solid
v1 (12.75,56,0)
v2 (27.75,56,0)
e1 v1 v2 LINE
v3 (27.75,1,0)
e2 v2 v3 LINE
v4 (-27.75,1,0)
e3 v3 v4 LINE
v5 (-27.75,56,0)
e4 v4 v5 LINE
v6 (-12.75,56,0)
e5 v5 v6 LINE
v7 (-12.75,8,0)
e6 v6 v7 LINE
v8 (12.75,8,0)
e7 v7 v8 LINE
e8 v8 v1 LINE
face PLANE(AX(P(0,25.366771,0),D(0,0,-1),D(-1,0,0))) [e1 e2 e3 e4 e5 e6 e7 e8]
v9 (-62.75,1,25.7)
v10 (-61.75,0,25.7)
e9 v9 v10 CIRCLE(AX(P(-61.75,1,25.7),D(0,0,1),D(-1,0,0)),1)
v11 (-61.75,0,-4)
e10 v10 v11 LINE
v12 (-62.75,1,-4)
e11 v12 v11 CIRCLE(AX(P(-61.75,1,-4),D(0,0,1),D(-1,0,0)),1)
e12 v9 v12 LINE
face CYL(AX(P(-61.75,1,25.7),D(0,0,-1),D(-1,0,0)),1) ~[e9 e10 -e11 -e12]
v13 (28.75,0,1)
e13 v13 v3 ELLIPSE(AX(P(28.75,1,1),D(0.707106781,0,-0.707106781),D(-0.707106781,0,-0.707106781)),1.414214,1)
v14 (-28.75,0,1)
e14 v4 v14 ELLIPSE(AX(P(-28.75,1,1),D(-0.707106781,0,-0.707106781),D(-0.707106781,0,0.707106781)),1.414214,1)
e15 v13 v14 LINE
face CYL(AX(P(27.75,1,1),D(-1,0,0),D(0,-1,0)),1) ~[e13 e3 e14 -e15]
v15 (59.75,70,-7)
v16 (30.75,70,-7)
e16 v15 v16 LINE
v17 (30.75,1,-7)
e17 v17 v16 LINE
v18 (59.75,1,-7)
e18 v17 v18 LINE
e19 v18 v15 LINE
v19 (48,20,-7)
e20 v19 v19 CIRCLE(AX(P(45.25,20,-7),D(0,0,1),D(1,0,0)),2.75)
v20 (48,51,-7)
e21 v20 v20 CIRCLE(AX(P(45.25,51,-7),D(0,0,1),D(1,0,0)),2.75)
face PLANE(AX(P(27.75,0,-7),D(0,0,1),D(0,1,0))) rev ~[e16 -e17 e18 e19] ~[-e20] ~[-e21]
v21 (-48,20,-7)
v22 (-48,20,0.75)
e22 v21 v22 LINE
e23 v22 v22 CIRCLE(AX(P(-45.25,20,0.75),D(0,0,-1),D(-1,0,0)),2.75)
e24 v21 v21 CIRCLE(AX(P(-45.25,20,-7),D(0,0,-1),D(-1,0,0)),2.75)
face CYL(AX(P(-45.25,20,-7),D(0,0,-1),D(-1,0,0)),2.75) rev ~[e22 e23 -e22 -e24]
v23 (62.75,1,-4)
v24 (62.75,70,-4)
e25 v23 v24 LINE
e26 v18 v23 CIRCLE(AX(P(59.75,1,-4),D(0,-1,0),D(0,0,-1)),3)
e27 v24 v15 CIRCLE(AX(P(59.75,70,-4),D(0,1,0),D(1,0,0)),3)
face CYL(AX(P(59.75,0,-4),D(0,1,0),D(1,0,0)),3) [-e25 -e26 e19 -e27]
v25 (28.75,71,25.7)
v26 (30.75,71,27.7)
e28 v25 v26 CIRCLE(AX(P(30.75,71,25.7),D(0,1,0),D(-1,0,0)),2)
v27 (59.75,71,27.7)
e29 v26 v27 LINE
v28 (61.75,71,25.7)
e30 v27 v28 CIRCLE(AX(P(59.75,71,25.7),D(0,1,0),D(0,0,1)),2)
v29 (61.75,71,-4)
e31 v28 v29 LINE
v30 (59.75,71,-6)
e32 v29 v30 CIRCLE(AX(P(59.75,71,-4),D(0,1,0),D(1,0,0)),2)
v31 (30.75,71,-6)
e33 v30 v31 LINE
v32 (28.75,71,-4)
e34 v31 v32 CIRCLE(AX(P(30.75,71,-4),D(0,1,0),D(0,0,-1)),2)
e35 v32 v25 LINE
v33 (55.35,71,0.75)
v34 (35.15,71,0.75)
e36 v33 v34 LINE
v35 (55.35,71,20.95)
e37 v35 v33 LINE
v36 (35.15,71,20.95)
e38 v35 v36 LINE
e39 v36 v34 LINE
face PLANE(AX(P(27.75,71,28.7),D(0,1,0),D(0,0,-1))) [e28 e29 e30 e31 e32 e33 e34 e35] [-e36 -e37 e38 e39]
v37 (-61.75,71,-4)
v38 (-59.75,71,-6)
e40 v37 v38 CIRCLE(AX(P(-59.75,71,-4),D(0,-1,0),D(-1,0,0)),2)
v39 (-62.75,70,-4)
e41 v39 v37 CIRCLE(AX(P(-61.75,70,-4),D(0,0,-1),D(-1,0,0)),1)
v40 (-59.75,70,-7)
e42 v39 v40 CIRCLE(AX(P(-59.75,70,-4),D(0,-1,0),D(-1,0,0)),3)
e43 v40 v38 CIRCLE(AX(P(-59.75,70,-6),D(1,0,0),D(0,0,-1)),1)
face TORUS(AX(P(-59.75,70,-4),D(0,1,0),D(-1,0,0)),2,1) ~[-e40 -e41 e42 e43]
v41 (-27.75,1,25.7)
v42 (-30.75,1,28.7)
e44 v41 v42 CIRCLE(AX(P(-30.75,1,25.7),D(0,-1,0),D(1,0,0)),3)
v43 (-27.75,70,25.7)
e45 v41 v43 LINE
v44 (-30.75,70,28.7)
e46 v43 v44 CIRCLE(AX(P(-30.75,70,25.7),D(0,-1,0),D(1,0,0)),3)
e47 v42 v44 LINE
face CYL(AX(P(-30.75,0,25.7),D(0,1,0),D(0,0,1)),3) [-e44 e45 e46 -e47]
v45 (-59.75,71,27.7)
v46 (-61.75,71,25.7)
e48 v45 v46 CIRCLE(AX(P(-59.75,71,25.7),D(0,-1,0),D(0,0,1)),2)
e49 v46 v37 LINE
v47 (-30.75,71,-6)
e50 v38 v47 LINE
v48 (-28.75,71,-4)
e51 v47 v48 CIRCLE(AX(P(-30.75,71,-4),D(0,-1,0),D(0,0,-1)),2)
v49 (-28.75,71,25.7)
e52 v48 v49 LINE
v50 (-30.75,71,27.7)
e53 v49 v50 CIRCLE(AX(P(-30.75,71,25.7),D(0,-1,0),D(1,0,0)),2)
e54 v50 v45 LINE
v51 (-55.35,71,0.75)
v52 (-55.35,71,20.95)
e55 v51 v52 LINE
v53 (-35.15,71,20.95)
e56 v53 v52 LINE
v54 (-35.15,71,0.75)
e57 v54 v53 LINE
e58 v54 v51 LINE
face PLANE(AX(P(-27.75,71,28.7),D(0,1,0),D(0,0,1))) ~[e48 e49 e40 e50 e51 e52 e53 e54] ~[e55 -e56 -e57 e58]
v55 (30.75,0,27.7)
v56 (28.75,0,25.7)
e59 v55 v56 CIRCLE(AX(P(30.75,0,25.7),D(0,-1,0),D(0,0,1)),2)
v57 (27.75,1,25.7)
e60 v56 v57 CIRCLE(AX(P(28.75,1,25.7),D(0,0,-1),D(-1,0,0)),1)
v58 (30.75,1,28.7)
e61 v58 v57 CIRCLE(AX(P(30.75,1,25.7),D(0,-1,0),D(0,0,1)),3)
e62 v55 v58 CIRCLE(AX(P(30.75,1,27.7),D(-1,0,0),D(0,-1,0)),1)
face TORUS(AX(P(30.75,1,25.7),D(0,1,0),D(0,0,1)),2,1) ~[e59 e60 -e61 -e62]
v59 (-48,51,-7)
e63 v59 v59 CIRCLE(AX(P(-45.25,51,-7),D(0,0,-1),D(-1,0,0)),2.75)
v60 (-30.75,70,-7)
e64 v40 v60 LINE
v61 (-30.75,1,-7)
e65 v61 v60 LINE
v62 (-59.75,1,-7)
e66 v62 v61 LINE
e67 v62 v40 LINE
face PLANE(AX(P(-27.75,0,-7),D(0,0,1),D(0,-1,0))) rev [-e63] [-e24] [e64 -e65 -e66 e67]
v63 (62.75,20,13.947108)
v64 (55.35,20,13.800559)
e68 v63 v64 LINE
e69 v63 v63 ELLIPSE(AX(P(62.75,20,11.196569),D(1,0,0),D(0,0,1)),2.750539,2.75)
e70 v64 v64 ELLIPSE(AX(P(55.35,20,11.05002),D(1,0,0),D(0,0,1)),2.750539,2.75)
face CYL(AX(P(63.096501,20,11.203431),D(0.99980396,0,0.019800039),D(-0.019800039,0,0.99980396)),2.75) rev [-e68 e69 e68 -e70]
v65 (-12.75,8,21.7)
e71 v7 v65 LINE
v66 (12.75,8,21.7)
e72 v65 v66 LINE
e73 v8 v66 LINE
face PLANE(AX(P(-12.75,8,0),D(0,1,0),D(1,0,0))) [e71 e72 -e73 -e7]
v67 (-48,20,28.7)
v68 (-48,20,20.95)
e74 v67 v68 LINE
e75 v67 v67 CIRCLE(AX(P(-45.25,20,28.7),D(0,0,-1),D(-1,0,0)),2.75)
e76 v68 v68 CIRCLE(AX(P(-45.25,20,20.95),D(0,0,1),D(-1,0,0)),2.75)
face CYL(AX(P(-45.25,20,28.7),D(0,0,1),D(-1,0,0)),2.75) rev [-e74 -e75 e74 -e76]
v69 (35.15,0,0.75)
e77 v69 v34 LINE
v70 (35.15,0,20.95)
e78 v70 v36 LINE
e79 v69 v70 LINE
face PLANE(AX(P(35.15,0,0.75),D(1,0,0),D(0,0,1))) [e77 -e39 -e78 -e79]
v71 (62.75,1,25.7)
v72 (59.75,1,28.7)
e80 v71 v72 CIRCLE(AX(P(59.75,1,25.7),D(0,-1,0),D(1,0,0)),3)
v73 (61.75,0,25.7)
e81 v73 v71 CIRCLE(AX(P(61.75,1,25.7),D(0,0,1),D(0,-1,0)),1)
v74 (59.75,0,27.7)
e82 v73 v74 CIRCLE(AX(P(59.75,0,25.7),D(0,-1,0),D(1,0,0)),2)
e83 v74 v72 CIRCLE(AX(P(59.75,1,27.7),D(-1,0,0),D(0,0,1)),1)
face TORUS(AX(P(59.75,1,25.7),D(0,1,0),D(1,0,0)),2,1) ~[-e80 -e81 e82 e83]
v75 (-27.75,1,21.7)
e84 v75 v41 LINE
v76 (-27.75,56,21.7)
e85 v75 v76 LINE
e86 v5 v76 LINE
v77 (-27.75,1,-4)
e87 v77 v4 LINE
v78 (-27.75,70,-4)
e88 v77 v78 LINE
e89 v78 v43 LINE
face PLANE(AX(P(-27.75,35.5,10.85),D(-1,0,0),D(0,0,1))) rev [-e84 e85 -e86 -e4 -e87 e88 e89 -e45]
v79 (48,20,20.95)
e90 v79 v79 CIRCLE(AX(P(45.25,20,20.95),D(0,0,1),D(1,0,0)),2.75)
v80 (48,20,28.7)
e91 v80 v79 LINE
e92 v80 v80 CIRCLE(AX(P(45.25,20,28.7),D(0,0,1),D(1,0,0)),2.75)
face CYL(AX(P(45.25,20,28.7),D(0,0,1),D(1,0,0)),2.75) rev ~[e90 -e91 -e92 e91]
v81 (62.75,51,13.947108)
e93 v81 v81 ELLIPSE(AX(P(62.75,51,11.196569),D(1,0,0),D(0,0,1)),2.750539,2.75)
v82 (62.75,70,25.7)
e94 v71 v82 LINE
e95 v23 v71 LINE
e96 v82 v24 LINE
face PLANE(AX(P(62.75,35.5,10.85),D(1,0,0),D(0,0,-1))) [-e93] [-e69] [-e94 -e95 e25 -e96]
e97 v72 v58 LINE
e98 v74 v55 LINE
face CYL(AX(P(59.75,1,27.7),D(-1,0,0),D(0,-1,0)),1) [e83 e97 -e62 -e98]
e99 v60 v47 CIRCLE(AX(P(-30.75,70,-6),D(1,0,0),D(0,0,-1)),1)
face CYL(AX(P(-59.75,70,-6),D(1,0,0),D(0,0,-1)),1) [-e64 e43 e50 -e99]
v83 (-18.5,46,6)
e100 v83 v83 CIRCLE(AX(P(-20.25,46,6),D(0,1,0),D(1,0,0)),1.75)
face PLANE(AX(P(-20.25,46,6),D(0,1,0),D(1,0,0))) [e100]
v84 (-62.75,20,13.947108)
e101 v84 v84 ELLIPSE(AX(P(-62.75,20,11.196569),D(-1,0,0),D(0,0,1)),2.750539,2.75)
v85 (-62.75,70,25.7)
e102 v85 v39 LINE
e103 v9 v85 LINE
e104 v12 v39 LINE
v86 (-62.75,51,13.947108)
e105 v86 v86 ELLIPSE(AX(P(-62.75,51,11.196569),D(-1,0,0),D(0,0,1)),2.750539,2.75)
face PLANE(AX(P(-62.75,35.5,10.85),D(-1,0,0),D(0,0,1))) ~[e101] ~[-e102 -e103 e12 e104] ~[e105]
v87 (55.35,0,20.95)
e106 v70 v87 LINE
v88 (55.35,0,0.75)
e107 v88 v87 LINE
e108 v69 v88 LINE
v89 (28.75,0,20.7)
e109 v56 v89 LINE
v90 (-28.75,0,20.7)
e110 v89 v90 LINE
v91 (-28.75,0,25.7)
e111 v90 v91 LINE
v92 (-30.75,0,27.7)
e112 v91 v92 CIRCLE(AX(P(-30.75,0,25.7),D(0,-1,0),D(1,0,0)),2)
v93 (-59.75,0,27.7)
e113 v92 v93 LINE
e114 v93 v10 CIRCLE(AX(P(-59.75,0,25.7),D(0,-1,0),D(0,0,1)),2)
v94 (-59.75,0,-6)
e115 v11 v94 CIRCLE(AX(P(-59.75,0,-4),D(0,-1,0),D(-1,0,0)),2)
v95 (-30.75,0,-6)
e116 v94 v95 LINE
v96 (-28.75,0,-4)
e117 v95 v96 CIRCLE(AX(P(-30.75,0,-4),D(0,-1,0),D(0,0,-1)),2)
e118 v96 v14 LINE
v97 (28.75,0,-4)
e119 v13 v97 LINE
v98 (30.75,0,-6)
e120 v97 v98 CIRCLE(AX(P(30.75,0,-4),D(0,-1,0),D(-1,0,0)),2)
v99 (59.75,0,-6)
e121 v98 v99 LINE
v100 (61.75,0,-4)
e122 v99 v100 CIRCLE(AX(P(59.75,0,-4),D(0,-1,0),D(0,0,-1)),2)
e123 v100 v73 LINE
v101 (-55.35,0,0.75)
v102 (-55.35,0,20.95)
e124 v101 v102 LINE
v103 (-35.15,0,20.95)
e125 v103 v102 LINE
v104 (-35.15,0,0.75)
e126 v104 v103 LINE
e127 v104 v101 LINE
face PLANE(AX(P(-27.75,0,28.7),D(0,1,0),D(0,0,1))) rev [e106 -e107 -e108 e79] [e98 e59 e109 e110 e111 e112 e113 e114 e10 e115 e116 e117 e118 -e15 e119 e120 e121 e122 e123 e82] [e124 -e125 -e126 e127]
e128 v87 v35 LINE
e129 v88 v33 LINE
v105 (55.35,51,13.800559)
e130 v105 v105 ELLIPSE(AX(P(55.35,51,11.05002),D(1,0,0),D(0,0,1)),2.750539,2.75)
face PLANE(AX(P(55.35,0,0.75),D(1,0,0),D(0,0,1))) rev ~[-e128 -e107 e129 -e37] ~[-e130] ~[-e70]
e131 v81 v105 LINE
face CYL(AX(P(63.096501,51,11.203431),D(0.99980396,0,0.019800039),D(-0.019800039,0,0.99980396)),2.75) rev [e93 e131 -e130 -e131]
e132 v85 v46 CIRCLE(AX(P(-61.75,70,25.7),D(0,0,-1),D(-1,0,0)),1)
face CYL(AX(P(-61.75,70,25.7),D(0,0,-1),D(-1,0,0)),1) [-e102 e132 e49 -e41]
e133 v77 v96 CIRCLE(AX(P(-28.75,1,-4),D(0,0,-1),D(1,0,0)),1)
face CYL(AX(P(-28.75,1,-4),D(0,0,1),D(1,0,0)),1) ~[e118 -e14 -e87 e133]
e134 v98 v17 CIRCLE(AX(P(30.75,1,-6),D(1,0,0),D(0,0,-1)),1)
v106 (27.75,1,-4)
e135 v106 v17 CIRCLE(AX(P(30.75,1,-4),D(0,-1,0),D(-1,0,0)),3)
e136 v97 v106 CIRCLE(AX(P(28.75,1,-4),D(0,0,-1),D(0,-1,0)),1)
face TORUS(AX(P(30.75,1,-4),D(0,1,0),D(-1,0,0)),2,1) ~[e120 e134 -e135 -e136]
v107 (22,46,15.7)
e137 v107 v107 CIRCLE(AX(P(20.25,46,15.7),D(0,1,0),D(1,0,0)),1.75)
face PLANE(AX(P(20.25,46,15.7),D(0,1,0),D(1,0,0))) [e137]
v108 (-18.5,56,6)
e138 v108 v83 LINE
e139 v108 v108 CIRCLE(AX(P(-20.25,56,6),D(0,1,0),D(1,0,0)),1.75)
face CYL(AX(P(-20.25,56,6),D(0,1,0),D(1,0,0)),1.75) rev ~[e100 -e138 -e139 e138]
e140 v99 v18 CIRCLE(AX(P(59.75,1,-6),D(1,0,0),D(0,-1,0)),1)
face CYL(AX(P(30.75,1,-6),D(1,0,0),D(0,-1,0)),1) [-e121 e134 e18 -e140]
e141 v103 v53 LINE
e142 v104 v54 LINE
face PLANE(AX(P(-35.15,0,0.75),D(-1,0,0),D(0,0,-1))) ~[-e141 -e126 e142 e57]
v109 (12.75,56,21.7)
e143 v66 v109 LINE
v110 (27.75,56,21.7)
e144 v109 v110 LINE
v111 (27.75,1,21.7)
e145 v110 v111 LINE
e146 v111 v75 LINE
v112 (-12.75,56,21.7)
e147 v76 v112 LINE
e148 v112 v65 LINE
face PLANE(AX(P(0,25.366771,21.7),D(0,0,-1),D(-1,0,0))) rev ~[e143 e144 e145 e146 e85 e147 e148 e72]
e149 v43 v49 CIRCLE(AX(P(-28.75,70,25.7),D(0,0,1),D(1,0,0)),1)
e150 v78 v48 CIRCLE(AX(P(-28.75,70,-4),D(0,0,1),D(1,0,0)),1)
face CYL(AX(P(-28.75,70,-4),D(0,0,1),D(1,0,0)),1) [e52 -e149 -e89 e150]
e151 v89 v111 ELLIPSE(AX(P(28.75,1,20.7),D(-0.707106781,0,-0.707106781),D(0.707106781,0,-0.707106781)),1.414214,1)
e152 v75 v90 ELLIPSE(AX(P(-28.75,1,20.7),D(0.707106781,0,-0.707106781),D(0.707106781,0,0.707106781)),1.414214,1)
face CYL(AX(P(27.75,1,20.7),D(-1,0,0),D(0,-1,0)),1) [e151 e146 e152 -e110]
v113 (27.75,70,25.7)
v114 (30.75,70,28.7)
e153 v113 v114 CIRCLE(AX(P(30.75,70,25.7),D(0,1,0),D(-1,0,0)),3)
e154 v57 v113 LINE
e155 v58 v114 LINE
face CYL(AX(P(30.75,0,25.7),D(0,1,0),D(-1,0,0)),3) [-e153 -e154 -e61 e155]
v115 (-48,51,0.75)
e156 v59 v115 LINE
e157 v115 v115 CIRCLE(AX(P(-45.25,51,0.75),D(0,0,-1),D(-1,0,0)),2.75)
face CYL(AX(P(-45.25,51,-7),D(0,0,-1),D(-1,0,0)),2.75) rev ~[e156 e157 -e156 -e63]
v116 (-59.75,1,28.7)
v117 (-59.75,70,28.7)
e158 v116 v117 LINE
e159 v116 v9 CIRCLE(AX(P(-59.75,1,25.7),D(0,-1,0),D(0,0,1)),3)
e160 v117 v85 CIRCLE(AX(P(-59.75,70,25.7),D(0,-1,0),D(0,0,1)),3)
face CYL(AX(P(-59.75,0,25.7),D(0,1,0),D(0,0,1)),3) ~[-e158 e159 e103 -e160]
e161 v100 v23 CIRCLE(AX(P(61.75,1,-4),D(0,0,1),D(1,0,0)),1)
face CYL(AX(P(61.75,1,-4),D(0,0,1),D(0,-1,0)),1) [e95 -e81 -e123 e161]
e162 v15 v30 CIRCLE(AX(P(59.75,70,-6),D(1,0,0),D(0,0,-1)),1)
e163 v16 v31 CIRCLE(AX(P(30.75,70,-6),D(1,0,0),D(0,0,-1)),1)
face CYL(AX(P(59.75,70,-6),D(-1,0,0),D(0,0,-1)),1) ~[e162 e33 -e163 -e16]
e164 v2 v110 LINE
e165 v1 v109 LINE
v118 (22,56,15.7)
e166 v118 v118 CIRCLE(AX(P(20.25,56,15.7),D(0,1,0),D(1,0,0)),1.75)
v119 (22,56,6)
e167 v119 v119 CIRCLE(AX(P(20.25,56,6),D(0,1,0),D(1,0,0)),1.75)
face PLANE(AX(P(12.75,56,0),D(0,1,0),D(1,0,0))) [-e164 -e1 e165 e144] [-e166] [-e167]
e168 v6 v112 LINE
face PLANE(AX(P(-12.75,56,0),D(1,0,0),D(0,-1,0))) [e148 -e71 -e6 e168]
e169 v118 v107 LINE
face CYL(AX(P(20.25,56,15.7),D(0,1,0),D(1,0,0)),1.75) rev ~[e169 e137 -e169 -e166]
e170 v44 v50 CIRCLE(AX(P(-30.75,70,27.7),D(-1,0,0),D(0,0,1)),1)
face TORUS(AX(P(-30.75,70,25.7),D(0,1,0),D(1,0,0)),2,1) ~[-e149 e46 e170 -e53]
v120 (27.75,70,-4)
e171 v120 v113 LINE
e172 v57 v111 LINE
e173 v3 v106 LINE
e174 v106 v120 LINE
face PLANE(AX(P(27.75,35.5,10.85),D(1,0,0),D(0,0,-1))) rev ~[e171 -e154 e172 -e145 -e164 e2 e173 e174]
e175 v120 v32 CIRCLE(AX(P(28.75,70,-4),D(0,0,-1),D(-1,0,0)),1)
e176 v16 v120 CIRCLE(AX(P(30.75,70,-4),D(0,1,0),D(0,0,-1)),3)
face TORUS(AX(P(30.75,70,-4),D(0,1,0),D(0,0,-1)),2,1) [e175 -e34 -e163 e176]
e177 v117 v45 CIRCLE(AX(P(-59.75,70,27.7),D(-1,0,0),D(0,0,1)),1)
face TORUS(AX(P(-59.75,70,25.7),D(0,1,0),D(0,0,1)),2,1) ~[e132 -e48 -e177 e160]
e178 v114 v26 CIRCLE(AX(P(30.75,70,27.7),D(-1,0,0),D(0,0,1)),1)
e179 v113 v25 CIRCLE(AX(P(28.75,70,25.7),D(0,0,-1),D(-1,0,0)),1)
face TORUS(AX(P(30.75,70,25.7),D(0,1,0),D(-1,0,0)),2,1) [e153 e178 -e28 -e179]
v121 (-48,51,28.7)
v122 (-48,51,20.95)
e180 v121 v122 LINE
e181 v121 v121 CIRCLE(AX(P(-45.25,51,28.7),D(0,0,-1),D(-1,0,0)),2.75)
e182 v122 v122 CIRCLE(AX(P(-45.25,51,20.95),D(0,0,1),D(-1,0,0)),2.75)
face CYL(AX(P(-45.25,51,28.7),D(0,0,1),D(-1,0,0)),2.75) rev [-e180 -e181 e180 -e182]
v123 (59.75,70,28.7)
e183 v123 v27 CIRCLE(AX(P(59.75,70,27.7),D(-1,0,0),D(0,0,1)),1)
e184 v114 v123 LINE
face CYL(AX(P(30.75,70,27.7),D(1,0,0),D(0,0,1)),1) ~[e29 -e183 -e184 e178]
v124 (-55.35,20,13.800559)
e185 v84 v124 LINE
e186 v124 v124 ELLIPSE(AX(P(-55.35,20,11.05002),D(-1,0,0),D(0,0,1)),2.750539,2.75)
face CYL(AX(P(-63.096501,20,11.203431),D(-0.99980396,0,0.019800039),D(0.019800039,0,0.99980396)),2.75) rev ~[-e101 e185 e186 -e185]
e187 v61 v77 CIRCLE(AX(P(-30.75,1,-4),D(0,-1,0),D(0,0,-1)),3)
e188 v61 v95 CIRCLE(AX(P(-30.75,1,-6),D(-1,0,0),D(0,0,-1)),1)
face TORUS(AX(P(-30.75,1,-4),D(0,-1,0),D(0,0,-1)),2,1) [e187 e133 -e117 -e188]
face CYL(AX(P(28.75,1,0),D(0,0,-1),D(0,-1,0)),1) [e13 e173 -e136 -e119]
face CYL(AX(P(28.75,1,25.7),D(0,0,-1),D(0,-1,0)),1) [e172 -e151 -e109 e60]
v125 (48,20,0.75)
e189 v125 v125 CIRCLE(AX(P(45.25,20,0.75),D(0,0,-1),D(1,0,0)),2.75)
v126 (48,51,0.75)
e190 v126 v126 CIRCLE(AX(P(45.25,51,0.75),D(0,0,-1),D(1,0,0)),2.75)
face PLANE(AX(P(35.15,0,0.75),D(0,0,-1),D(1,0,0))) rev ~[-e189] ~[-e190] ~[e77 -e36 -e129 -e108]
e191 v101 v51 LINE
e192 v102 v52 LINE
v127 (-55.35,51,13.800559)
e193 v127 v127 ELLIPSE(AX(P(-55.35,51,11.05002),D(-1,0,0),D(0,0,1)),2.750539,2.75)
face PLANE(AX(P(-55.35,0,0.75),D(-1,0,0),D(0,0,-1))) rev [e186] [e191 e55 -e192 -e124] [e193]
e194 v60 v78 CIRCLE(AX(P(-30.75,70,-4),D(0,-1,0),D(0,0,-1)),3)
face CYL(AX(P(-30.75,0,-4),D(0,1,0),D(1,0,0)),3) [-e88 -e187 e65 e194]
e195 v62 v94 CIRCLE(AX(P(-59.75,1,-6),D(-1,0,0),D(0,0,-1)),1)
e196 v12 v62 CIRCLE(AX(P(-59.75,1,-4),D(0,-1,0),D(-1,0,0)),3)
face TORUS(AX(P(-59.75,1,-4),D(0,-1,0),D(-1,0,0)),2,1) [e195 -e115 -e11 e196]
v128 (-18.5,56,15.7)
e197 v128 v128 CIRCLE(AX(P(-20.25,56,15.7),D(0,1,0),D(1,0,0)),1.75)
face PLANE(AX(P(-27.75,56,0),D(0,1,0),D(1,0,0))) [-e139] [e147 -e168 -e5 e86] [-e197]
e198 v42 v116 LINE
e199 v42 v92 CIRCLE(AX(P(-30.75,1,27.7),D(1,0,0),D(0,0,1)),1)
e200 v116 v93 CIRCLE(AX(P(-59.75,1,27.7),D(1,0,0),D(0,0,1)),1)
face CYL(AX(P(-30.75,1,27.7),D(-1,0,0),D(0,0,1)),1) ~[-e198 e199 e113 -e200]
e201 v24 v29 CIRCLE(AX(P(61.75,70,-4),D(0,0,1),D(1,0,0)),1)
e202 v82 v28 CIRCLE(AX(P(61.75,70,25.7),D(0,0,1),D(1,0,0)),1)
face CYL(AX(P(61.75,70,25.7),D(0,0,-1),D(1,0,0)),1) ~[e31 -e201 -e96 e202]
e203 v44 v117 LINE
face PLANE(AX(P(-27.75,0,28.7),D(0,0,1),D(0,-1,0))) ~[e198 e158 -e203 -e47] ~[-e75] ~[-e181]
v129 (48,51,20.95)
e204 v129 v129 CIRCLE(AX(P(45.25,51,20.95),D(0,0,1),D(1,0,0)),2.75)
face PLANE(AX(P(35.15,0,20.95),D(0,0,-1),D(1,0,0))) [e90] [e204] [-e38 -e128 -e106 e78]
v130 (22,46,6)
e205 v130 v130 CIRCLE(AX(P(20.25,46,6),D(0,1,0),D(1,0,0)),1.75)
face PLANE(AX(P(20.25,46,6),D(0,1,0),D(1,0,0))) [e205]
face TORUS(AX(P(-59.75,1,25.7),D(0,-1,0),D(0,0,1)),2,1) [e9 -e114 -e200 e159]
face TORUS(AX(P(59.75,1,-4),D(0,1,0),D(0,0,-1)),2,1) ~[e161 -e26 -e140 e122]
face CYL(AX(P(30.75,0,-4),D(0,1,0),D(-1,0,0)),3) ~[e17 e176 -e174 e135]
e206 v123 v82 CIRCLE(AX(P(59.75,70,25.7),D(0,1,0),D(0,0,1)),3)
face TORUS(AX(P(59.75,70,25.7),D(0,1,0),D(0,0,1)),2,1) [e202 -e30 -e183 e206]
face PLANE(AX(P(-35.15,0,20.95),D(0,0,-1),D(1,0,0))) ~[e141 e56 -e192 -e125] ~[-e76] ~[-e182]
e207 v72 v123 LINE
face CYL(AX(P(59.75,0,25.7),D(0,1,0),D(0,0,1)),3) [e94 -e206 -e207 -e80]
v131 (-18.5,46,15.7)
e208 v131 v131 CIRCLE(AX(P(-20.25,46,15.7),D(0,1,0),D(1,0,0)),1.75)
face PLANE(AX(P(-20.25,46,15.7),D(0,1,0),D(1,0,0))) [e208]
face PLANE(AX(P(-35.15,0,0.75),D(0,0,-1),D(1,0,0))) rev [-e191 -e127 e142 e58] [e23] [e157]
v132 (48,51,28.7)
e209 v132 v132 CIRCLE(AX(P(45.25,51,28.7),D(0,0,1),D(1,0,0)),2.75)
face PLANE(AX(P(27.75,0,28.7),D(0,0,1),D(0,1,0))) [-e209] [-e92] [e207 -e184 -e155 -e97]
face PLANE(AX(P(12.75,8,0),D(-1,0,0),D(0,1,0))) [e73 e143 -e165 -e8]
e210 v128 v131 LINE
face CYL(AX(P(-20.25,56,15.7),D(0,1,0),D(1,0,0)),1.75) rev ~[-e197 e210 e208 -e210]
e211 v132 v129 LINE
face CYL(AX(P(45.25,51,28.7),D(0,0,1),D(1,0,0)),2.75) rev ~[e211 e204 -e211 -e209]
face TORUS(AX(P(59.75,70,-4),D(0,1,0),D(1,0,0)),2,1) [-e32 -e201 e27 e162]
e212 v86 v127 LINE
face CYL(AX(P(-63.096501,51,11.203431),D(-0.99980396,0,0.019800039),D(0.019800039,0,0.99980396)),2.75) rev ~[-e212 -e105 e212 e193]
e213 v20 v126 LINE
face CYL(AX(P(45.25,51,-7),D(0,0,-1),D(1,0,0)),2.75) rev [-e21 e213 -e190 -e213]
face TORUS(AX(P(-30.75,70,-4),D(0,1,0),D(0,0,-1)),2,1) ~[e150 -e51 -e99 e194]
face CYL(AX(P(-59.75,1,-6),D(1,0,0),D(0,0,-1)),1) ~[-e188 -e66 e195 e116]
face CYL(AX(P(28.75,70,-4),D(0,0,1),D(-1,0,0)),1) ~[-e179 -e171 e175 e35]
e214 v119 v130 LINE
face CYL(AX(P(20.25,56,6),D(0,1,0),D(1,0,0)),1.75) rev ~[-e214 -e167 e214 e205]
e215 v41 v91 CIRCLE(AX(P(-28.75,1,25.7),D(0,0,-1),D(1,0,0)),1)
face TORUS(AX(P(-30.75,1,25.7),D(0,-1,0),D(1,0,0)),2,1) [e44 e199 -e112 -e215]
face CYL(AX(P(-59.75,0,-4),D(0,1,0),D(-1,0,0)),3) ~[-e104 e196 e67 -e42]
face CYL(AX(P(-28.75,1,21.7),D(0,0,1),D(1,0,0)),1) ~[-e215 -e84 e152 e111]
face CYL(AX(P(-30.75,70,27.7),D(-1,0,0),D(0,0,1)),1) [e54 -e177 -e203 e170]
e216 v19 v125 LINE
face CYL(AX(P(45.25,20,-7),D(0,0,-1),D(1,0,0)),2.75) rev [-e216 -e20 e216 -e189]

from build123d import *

# Parameters (mm, degrees)
BOSS_EXTRUDE1_DEPTH     = 21.7
SKETCH2_R               = 1.75
CUT_EXTRUDE1_DEPTH      = 10
SKETCH3_W               = 35.7
SKETCH3_H               = 71
BOSS_EXTRUDE2_DEPTH     = 35
SKETCH4_W               = 20.2
SKETCH4_H               = 20.2
CUT_EXTRUDE2_DEPTH      = 72
SKETCH5_R               = 2.75
CUT_EXTRUDE3_DEPTH      = 10
MIRROR5_COPY_1_SKETCH_R = 2.75
MIRROR5_COPY_1_DEPTH    = 10
MIRROR5_COPY_2_SKETCH_R = 2.75
MIRROR5_COPY_2_DEPTH    = 10
MIRROR6_COPY_1_SKETCH_R = 2.75
MIRROR6_COPY_1_DEPTH    = 10
FILLET1_R               = 3
FILLET2_R               = 1


with BuildPart() as part:
    # Sketch1 → Boss-Extrude1 (new body)
    with BuildSketch(Plane.XY):
        Polygon((27.75, 0), (-27.75, 0), (-27.75, 56), (-12.75, 56), (-12.75, 8), (12.75, 8), (12.75, 56), (27.75, 56), align=None)
    extrude(amount=BOSS_EXTRUDE1_DEPTH)

    # Sketch2 → Cut-Extrude1 (cut)
    with BuildSketch(Plane(origin=(0, 56, 0), x_dir=(1, 0, 0), z_dir=(0, 1, 0))):
        with Locations((20.25, -6)):
            Circle(SKETCH2_R)
        with Locations((20.25, -15.7)):
            Circle(SKETCH2_R)
        with Locations((-20.25, -15.7)):
            Circle(SKETCH2_R)
        with Locations((-20.25, -6)):
            Circle(SKETCH2_R)
    extrude(amount=-CUT_EXTRUDE1_DEPTH, mode=Mode.SUBTRACT)

    # Sketch3 → Boss-Extrude2 (add)
    with BuildSketch(Plane(origin=(27.75, 0, 0), x_dir=(0, 0, -1), z_dir=(1, 0, 0))):
        with Locations((-10.85, 35.5)):
            Rectangle(SKETCH3_W, SKETCH3_H)
    boss_extrude2 = extrude(amount=BOSS_EXTRUDE2_DEPTH)

    # Mirror1: Boss-Extrude2 across plane
    add(boss_extrude2.mirror(Plane(origin=(0, 0, 0), x_dir=(0, 0, 1), z_dir=(1, 0, 0))))

    # Sketch4 → Cut-Extrude2 (cut, through all)
    with BuildSketch(Plane.XZ):
        with Locations((45.25, 10.85)):
            Rectangle(SKETCH4_W, SKETCH4_H)
    cut_extrude2 = extrude(amount=-CUT_EXTRUDE2_DEPTH, mode=Mode.SUBTRACT)

    # Mirror2: Cut-Extrude2 across plane
    add(cut_extrude2.mirror(Plane(origin=(0, 0, 0), x_dir=(0, 0, 1), z_dir=(1, 0, 0))), mode=Mode.SUBTRACT)

    # Sketch5 → Cut-Extrude3 (cut)
    with BuildSketch(Plane.XY.offset(28.7)):
        with Locations((45.25, 51)):
            Circle(SKETCH5_R)
        with Locations((45.25, 20)):
            Circle(SKETCH5_R)
    cut_extrude3 = extrude(amount=-CUT_EXTRUDE3_DEPTH, mode=Mode.SUBTRACT)

    # Mirror3: Cut-Extrude3 across plane
    add(cut_extrude3.mirror(Plane(origin=(0, 0, 0), x_dir=(0, 0, 1), z_dir=(1, 0, 0))), mode=Mode.SUBTRACT)

    # Mirror4: Cut-Extrude3 across plane
    add(cut_extrude3.mirror(Plane(origin=(17.649039404, 0, -17.302979808), x_dir=(0.700071411, 0, 0.714072839), z_dir=(0.714072839, 0, -0.700071411))), mode=Mode.SUBTRACT)

    # Mirror5 copy 1 sketch → Mirror5 copy 1 (cut)
    with BuildSketch(Plane(origin=(-63.99245246, 0, -34.03769849), x_dir=(0.019800039, 0, 0.99980396), z_dir=(-0.99980396, 0, 0.019800039))):
        with Locations((45.25, 51)):
            Circle(MIRROR5_COPY_1_SKETCH_R)
        with Locations((45.25, 20)):
            Circle(MIRROR5_COPY_1_SKETCH_R)
    extrude(amount=-MIRROR5_COPY_1_DEPTH, mode=Mode.SUBTRACT)

    # Mirror5 copy 2 sketch → Mirror5 copy 2 (cut)
    with BuildSketch(Plane(origin=(-63.99245246, 0, -34.03769849), x_dir=(-0.019800039, 0, -0.99980396), z_dir=(-0.99980396, 0, 0.019800039))):
        with Locations((45.25, -51)):
            Circle(MIRROR5_COPY_2_SKETCH_R)
        with Locations((45.25, -20)):
            Circle(MIRROR5_COPY_2_SKETCH_R)
    extrude(amount=-MIRROR5_COPY_2_DEPTH, mode=Mode.SUBTRACT)

    # Mirror6: Cut-Extrude3 across plane
    add(cut_extrude3.mirror(Plane(origin=(0, 0, 10.85), x_dir=(1, 0, 0), z_dir=(0, 0, -1))), mode=Mode.SUBTRACT)

    # Mirror6 copy 1 sketch → Mirror6 copy 1 (cut)
    with BuildSketch(Plane(origin=(0, 0, -7), x_dir=(-1, 0, 0), z_dir=(0, 0, -1))):
        with Locations((45.25, 51)):
            Circle(MIRROR6_COPY_1_SKETCH_R)
        with Locations((45.25, 20)):
            Circle(MIRROR6_COPY_1_SKETCH_R)
    extrude(amount=-MIRROR6_COPY_1_DEPTH, mode=Mode.SUBTRACT)

    # Fillet1
    fillet1_edges = [part.edges().sort_by_distance(p)[0] for p in [
        (27.75, 35.5, -7),
        (27.75, 35.5, 28.7),
        (62.75, 35.5, -7),
        (62.75, 35.5, 28.7),
        (-27.75, 35.5, -7),
        (-27.75, 35.5, 28.7),
        (-62.75, 35.5, -7),
        (-62.75, 35.5, 28.7),
    ]]
    fillet(fillet1_edges, radius=FILLET1_R)

    # Fillet2
    fillet2_edges = [part.edges().sort_by_distance(p)[0] for p in [
        (-45.25, 71, 28.7),
        (-45.25, 0, 28.7),
        (45.25, 0, -7),
        (62.75, 0, 10.85),
        (45.25, 0, 28.7),
        (27.75, 0, 23.7),
        (-27.75, 0, 23.7),
        (-62.75, 0, 10.85),
        (-45.25, 0, -7),
        (-61.871320344, 0, -6.121320344),
        (-28.628679656, 0, -6.121320344),
        (28.628679656, 0, -6.121320344),
        (61.871320344, 0, -6.121320344),
        (61.871320344, 0, 27.821320344),
        (28.628679656, 0, 27.821320344),
        (-28.628679656, 0, 27.821320344),
        (-61.871320344, 0, 27.821320344),
        (-62.75, 71, 10.85),
        (-27.75, 71, 10.85),
        (-45.25, 71, -7),
        (-61.871320344, 71, -6.121320344),
        (-28.628679656, 71, -6.121320344),
        (-28.628679656, 71, 27.821320344),
        (-61.871320344, 71, 27.821320344),
        (45.25, 71, 28.7),
        (27.75, 71, 10.85),
        (62.75, 71, 10.85),
        (45.25, 71, -7),
        (28.628679656, 71, -6.121320344),
        (61.871320344, 71, -6.121320344),
        (61.871320344, 71, 27.821320344),
        (28.628679656, 71, 27.821320344),
        (0, 0, 21.7),
        (27.75, 0, -2),
        (-27.75, 0, -2),
        (0, 0, 0),
    ]]
    fillet(fillet2_edges, radius=FILLET2_R)


solid = part.part
